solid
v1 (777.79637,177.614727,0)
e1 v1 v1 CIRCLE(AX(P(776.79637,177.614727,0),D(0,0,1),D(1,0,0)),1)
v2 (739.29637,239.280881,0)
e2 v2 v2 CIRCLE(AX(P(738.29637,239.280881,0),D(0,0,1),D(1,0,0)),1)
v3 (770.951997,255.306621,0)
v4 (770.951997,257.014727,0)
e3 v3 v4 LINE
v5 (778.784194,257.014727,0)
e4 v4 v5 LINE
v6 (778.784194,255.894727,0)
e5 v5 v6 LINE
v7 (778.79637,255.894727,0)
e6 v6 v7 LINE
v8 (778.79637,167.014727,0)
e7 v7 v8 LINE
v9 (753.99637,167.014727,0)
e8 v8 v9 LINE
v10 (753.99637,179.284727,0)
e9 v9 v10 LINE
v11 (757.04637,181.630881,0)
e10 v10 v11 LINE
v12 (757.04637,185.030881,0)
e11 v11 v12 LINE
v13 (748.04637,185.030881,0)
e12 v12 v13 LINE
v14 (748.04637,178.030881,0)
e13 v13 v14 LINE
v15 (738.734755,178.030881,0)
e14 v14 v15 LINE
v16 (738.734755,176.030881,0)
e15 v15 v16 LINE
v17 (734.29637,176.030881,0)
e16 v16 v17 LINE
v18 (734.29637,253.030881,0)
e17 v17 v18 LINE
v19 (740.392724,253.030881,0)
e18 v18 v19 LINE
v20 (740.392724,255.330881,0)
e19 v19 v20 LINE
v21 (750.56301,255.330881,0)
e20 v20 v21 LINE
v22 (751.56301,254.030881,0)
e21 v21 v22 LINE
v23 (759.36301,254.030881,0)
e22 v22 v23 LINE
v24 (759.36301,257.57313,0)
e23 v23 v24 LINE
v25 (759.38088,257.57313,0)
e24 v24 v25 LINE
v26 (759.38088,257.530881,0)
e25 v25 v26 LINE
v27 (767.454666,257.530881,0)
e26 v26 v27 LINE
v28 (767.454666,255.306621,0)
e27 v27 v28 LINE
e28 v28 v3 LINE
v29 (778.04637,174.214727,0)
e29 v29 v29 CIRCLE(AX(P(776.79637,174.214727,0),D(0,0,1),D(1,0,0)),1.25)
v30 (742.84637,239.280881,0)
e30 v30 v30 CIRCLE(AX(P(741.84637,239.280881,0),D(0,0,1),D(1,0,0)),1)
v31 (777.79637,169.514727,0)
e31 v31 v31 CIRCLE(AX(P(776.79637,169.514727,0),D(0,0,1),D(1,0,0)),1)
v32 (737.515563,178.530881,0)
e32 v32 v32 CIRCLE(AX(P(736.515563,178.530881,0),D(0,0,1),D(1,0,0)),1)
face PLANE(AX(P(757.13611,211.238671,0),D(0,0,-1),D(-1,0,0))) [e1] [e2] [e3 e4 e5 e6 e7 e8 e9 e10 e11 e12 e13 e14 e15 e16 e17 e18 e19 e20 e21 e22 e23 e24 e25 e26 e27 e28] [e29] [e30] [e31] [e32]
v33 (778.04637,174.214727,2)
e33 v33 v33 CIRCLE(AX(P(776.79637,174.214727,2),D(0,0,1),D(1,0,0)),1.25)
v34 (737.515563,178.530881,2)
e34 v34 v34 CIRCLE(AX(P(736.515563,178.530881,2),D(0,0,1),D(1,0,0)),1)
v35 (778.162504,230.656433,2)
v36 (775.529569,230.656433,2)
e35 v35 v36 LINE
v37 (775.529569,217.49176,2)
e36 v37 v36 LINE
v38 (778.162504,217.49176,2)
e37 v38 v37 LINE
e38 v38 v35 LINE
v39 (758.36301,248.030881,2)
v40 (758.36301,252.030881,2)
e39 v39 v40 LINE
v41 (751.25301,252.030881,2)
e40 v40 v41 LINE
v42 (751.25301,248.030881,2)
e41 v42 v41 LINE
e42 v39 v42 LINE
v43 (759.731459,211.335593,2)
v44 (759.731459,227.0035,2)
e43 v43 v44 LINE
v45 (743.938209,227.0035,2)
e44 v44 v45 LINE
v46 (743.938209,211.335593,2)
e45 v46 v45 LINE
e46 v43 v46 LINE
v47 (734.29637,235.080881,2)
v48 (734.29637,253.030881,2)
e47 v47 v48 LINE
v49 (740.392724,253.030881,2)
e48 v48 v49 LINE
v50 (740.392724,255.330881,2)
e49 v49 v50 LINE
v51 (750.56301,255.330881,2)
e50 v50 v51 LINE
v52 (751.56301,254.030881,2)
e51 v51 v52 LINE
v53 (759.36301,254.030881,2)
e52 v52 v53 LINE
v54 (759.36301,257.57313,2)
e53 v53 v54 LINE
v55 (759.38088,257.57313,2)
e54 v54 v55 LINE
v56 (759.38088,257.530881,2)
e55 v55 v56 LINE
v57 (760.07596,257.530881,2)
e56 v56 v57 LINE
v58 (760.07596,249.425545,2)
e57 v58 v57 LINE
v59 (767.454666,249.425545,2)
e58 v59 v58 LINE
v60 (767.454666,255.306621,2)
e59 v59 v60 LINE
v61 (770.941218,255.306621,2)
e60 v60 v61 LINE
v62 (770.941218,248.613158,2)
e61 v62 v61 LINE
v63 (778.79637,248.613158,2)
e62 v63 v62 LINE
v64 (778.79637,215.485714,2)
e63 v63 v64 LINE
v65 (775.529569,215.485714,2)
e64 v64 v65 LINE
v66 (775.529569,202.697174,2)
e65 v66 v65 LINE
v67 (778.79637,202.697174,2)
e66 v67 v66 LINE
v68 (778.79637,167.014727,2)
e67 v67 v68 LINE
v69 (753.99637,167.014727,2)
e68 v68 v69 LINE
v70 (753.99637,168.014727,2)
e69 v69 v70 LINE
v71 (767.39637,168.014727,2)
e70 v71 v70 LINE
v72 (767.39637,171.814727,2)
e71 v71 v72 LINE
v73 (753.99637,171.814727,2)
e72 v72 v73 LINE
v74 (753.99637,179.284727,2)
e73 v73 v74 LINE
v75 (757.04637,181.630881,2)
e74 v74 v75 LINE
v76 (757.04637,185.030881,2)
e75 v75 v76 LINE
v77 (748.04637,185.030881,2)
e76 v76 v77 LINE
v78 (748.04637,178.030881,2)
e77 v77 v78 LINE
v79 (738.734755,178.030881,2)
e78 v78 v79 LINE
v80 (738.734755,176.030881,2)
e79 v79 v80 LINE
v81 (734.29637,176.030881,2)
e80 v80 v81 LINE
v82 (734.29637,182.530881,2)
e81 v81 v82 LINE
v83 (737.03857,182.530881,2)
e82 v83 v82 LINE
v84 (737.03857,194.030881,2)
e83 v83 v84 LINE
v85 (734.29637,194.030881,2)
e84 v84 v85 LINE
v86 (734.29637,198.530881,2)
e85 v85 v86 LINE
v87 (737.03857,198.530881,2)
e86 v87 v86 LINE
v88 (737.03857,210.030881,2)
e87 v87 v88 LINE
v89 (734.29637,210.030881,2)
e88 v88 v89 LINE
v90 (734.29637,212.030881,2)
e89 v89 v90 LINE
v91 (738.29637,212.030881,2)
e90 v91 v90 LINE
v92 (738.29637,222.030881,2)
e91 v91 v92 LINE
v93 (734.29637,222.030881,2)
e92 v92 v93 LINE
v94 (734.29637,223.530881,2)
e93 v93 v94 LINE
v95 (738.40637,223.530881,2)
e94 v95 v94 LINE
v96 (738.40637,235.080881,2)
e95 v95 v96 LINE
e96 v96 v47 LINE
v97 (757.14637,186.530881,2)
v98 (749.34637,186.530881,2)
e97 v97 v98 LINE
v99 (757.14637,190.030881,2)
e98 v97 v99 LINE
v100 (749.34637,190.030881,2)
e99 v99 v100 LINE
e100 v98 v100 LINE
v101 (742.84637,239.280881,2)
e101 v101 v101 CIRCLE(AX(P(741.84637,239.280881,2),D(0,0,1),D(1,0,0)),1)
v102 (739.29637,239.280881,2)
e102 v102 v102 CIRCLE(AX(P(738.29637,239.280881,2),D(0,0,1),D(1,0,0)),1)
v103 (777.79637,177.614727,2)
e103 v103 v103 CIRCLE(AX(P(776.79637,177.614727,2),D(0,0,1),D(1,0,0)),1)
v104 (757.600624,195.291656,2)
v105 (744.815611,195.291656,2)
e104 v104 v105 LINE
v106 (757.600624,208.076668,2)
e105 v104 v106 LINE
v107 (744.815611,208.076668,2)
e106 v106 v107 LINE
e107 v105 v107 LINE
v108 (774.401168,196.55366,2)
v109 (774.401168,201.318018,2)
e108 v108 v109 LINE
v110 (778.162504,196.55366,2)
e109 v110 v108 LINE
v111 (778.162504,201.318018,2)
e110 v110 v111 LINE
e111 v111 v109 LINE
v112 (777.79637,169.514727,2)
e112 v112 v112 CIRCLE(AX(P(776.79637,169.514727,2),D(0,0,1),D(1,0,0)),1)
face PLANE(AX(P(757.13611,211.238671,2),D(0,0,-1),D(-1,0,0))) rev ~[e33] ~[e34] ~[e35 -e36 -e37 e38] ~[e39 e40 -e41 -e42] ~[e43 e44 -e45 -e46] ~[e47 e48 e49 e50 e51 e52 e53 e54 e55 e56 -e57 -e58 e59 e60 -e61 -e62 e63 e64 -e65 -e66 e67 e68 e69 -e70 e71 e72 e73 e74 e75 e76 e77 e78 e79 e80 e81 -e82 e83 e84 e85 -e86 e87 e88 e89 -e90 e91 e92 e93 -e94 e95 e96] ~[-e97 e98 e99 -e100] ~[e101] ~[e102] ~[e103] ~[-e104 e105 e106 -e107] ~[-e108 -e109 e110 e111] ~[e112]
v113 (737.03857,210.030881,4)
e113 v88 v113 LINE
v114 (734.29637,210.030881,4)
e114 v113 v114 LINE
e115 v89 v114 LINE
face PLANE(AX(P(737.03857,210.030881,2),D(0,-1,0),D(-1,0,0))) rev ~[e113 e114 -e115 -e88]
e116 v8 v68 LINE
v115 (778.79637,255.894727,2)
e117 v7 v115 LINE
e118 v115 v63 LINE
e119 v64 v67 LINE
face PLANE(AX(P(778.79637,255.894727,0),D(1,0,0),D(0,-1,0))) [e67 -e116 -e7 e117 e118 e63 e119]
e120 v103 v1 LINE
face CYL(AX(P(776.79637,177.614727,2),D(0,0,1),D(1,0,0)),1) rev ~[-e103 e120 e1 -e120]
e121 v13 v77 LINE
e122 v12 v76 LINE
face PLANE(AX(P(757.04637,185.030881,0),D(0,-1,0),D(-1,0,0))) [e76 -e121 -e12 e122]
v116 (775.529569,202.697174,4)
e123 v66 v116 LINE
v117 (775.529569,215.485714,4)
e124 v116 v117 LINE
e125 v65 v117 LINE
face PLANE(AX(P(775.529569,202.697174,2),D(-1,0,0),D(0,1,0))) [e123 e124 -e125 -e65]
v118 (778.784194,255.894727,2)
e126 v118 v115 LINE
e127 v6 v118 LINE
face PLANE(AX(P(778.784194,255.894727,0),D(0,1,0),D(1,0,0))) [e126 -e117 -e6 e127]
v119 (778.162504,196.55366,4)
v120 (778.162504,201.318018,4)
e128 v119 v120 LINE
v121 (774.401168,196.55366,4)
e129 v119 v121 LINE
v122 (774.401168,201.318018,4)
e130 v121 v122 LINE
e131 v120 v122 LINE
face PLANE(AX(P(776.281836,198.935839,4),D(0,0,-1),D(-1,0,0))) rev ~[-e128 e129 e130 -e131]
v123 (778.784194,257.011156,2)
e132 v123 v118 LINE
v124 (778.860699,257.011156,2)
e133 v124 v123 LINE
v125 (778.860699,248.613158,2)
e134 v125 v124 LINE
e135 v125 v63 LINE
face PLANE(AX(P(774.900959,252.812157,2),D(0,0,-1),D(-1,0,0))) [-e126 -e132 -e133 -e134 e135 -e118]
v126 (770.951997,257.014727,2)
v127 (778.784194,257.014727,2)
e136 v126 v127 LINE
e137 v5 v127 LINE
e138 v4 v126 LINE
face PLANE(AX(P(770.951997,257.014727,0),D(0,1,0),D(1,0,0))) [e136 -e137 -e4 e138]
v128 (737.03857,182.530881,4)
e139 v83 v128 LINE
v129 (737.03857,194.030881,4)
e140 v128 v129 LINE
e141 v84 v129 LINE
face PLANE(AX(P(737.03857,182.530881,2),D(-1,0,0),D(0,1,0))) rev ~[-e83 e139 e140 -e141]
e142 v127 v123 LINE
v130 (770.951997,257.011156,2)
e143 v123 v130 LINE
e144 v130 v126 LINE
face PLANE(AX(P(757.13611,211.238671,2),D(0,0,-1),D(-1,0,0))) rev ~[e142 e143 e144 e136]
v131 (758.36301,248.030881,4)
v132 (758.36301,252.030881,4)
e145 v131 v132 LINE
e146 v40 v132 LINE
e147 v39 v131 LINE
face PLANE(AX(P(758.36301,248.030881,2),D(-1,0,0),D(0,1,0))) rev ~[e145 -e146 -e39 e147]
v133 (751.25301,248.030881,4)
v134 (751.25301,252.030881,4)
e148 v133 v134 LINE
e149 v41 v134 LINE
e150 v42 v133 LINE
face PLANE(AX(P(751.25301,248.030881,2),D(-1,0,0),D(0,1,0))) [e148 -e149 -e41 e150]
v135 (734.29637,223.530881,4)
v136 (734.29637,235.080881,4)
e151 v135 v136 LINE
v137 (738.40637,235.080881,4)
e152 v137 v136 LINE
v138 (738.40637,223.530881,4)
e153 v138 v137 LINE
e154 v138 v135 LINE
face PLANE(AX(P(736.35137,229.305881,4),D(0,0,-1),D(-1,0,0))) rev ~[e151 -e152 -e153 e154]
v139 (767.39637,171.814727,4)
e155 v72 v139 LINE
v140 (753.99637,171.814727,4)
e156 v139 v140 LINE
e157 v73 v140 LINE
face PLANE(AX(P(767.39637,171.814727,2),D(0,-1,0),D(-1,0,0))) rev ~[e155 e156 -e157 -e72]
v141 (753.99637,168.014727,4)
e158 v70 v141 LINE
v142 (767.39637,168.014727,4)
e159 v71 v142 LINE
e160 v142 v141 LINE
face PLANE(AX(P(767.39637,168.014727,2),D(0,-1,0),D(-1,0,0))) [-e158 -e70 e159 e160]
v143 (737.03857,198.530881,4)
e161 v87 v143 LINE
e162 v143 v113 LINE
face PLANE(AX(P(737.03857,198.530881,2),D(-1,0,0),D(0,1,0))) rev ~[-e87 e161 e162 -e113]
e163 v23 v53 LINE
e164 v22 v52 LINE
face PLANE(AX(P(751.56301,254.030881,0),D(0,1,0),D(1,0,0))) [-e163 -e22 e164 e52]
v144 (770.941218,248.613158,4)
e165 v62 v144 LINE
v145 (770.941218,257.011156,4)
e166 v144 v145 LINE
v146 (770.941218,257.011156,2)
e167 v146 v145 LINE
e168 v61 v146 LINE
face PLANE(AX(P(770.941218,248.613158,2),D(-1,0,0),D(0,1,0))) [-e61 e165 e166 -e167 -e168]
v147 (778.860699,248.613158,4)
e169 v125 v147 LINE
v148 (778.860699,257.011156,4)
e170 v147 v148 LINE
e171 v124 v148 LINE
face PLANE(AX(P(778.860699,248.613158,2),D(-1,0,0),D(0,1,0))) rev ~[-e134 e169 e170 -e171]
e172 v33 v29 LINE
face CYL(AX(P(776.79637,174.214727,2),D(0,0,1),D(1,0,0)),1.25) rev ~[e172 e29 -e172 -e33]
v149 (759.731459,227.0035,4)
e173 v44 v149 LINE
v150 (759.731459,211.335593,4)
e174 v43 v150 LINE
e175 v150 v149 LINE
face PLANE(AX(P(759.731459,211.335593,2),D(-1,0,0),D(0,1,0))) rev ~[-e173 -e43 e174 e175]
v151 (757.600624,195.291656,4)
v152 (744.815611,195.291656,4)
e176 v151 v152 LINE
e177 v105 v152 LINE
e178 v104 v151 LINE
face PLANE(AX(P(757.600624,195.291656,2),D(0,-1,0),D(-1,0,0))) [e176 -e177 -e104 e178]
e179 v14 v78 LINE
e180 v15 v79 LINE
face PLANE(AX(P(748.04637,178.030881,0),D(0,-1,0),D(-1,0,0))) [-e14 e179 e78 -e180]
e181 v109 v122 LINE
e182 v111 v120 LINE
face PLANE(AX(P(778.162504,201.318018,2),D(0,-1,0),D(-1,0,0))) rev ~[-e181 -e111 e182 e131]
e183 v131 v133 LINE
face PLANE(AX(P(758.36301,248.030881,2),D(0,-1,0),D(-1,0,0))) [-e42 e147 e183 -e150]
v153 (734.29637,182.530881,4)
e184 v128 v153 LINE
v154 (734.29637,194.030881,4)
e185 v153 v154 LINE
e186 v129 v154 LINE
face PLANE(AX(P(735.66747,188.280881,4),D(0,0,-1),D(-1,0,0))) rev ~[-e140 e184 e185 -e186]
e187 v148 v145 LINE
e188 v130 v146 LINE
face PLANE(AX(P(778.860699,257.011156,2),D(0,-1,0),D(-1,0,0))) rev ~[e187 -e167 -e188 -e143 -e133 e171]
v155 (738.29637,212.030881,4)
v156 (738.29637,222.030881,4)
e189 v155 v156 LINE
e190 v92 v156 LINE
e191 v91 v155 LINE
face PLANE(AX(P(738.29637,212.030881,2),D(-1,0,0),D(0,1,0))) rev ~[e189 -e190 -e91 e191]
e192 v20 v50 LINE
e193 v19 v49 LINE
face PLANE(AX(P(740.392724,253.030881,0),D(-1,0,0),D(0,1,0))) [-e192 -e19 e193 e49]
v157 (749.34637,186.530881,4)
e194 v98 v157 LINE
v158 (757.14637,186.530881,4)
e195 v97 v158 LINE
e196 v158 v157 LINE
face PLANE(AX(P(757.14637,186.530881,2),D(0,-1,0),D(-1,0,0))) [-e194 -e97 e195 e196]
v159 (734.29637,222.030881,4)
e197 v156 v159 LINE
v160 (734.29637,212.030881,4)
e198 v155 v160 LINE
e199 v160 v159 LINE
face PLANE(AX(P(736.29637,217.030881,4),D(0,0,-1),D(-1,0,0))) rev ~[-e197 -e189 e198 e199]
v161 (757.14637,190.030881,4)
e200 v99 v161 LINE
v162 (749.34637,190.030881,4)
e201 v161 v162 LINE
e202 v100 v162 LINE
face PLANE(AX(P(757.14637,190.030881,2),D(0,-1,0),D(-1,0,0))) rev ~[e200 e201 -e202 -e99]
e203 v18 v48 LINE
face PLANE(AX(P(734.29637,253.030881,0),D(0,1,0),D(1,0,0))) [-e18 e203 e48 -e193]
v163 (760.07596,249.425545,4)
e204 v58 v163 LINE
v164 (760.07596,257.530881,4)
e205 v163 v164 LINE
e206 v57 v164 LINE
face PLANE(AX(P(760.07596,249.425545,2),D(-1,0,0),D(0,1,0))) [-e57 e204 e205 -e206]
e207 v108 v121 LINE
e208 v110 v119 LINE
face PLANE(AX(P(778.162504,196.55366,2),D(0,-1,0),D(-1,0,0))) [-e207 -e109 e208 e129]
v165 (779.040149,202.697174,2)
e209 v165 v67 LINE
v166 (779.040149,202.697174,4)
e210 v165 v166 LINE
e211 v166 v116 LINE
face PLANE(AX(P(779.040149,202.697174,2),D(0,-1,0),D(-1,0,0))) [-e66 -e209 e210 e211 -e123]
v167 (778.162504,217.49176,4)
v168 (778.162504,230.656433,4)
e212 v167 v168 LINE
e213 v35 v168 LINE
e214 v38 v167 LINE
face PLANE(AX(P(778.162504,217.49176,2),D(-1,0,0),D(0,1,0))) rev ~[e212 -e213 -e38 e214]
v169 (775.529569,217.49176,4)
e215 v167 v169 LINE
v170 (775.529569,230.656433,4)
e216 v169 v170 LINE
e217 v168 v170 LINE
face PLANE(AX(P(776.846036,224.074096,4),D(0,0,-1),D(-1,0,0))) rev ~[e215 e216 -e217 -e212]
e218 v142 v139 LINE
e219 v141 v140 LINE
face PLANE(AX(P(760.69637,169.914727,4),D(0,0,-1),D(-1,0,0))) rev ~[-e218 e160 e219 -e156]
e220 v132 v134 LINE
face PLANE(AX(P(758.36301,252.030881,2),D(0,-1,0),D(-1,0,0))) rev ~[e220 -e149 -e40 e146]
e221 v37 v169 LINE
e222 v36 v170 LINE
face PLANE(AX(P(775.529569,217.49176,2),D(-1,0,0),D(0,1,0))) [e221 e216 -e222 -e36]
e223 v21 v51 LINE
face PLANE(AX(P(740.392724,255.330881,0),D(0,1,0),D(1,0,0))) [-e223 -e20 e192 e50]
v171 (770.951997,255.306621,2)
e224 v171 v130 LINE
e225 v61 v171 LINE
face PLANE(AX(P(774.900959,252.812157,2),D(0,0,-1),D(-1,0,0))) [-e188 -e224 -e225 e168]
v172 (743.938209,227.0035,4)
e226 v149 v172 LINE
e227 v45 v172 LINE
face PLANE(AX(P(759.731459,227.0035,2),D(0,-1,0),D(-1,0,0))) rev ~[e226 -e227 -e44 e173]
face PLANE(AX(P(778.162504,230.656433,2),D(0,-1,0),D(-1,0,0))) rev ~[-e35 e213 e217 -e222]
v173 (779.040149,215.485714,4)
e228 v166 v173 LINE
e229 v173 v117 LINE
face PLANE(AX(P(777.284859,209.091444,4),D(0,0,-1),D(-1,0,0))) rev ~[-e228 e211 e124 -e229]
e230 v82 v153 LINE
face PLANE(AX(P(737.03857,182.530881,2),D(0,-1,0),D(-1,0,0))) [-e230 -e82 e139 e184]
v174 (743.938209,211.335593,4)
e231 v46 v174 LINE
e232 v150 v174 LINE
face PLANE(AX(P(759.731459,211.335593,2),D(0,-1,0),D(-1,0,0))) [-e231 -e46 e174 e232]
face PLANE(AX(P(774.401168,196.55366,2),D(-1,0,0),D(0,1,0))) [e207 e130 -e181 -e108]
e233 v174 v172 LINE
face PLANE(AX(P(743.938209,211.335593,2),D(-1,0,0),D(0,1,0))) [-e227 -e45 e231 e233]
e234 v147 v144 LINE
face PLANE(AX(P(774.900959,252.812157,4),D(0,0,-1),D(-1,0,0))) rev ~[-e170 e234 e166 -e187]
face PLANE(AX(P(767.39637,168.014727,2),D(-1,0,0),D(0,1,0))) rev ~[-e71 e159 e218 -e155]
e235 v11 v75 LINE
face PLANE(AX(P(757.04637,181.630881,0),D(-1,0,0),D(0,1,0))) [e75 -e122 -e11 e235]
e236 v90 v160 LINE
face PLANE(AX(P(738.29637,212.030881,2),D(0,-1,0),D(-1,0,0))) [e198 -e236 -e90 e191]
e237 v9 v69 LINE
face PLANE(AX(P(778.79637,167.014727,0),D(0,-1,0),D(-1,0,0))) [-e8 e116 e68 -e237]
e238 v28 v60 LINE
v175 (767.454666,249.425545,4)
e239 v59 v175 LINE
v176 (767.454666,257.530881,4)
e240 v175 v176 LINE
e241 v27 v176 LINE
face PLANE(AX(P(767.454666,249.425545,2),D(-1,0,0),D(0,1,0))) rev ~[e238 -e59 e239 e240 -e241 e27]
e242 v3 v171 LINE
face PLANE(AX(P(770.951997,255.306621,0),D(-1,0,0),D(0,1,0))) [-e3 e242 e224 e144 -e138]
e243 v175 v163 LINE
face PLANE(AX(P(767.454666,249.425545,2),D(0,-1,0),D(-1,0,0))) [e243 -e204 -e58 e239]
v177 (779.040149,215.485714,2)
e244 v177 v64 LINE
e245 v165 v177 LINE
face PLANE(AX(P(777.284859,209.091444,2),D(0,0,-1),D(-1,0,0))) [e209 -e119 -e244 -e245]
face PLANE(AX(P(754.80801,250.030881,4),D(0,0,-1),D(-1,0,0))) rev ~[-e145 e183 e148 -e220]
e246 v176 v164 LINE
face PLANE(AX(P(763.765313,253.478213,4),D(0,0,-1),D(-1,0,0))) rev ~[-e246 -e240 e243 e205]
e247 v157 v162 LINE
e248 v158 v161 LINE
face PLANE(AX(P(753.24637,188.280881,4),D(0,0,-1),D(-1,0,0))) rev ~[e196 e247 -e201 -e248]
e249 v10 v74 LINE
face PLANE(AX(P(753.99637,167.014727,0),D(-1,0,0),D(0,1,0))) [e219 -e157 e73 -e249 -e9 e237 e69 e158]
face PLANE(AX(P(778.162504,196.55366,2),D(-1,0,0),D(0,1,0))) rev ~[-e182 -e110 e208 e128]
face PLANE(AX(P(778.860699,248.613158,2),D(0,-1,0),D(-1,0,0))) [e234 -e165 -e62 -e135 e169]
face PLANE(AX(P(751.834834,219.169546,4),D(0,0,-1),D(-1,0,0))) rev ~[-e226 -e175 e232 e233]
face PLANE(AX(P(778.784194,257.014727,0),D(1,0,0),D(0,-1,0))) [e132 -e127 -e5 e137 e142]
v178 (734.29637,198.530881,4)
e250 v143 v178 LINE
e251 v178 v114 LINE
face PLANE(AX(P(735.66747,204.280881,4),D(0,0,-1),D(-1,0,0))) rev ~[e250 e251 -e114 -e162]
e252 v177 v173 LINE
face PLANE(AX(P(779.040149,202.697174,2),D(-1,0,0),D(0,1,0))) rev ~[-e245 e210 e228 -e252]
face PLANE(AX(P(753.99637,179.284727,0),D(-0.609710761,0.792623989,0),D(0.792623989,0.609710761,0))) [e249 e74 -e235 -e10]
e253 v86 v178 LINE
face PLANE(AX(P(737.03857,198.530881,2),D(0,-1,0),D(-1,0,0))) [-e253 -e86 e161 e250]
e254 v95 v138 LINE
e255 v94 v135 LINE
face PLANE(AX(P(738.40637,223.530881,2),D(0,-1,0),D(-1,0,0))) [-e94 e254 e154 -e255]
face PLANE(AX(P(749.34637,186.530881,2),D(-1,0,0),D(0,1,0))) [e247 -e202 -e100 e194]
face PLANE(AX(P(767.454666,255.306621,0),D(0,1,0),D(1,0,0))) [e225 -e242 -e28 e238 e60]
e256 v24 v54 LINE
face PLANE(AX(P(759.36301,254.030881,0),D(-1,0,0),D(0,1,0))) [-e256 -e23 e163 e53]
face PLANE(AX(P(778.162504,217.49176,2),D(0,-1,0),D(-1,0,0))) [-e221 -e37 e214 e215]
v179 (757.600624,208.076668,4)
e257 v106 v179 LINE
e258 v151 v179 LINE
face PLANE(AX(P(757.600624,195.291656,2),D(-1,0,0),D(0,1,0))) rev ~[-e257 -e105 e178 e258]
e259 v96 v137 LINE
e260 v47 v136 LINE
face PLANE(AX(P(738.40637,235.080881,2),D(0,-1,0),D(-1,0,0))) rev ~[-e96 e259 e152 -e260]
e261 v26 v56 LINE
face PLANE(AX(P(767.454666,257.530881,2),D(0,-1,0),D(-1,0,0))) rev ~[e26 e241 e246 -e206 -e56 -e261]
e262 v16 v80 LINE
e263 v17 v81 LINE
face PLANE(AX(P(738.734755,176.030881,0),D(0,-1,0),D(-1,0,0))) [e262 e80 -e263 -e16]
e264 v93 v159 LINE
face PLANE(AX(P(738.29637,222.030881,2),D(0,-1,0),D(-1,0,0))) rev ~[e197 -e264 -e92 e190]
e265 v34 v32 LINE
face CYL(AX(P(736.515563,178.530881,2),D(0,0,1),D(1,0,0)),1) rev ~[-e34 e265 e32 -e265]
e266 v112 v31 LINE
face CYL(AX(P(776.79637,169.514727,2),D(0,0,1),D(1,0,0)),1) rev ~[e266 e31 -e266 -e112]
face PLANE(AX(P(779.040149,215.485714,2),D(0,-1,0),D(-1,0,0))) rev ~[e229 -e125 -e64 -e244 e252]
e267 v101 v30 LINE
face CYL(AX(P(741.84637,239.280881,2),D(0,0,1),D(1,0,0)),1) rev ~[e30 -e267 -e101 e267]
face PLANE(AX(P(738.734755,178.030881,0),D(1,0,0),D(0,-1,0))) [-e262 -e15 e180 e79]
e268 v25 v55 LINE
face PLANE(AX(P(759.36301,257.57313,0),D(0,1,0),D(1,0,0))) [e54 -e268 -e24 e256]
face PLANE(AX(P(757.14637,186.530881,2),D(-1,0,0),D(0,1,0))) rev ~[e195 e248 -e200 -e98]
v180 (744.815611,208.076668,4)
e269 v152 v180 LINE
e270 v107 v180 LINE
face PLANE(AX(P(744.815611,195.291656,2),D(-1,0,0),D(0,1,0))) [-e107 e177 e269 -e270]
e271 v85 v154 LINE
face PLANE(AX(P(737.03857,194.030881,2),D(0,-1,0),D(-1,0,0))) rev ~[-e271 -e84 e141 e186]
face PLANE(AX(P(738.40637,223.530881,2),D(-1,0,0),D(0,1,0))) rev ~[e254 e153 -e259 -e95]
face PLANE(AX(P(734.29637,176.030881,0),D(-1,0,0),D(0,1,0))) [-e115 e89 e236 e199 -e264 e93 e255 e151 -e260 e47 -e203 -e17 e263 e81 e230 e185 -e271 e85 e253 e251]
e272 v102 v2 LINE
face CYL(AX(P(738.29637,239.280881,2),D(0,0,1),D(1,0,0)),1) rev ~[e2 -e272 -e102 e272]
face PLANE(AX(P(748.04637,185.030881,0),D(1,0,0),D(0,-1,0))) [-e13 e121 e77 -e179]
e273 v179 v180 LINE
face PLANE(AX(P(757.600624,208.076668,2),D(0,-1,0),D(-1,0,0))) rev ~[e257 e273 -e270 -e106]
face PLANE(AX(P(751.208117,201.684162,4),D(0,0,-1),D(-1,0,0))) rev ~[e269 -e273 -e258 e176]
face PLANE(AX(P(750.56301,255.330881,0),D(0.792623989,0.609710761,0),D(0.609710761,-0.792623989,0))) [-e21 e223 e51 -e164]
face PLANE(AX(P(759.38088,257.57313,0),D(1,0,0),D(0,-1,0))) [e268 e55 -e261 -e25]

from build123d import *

# Parameters (mm, degrees)
BOSS_EXTRU_1_DEPTH  = 2
ESQUISSE3_W         = 15.79325035
ESQUISSE3_H         = 15.667907094
BOSS_EXTRU_3_DEPTH  = 2
ESQUISSE4_W         = 12.785012189
ESQUISSE4_H         = 12.785012188
BOSS_EXTRU_4_DEPTH  = 2
ESQUISSE5_W         = 7.91948101
ESQUISSE5_H         = 8.397998202
BOSS_EXTRU_5_DEPTH  = 2
ESQUISSE6_W         = 7.37870607
ESQUISSE6_H         = 8.10533589
BOSS_EXTRU_6_DEPTH  = 2
ESQUISSE7_W         = 2.632934746
ESQUISSE7_H         = 13.164673727
ESQUISSE7_W_2       = 3.510579661
ESQUISSE7_H_2       = 12.788540192
ESQUISSE7_W_3       = 3.761335351
ESQUISSE7_H_3       = 4.764358111
ESQUISSE7_W_4       = 7.8
ESQUISSE7_H_4       = 3.5
ESQUISSE7_W_5       = 13.4
ESQUISSE7_H_5       = 3.8
ESQUISSE7_W_6       = 2.742200186
ESQUISSE7_H_6       = 11.5
ESQUISSE7_W_7       = 4
ESQUISSE7_H_7       = 10
ESQUISSE7_W_8       = 7.11
ESQUISSE7_H_8       = 4
ESQUISSE7_W_9       = 4.11
ESQUISSE7_H_9       = 11.55
BOSS_EXTRU_7_DEPTH  = 2
SKETCH_3_R          = 1
SKETCH_3_R_2        = 1.25
CUT_EXTRUDE_4_DEPTH = 10
SKETCH_1_R          = 1
CUT_EXTRUDE_5_DEPTH = 10
SKETCH_2_R          = 1
CUT_EXTRUDE_6_DEPTH = 10


with BuildPart() as part:
    # Esquisse1 → Boss.-Extru.1 (new body)
    with BuildSketch(Plane.XY):
        Polygon((778.796370306, 167.014727296), (753.996370306, 167.014727296), (753.996370306, 179.284727296), (757.046370306, 181.630881142), (757.046370306, 185.030881142), (748.046370306, 185.030881142), (748.046370306, 178.030881142), (738.734755108, 178.030881142), (738.734755108, 176.030881142), (734.296370306, 176.030881142), (734.296370306, 253.030881142), (740.392724327, 253.030881142), (740.392724327, 255.330881142), (750.563009525, 255.330881142), (751.563009525, 254.030881142), (759.363009525, 254.030881142), (759.363009525, 257.573130323), (759.380880171, 257.573130323), (759.380880171, 257.530881142), (767.454666434, 257.530881142), (767.454666434, 255.306621268), (770.951996508, 255.306621268), (770.951996508, 257.014727296), (778.78419371, 257.014727296), (778.78419371, 255.894727296), (778.796370306, 255.894727296), align=None)
    extrude(amount=BOSS_EXTRU_1_DEPTH)

    # Esquisse3 → Boss.-Extru.3 (add)
    with BuildSketch(Plane(origin=(0, 0, 2), x_dir=(-1, 0, 0), z_dir=(0, 0, -1))):
        with Locations((-751.834833735, 219.169546492)):
            Rectangle(ESQUISSE3_W, ESQUISSE3_H)
    extrude(amount=-BOSS_EXTRU_3_DEPTH)

    # Esquisse4 → Boss.-Extru.4 (add)
    with BuildSketch(Plane(origin=(0, 0, 2), x_dir=(-1, 0, 0), z_dir=(0, 0, -1))):
        with Locations((-751.208117452, 201.684162176)):
            Rectangle(ESQUISSE4_W, ESQUISSE4_H)
    extrude(amount=-BOSS_EXTRU_4_DEPTH)

    # Esquisse5 → Boss.-Extru.5 (add)
    with BuildSketch(Plane(origin=(0, 0, 2), x_dir=(-1, 0, 0), z_dir=(0, 0, -1))):
        with Locations((-774.900958926, 252.812156779)):
            Rectangle(ESQUISSE5_W, ESQUISSE5_H)
    extrude(amount=-BOSS_EXTRU_5_DEPTH)

    # Esquisse6 → Boss.-Extru.6 (add)
    with BuildSketch(Plane(origin=(0, 0, 2), x_dir=(-1, 0, 0), z_dir=(0, 0, -1))):
        with Locations((-763.765313399, 253.478213197)):
            Rectangle(ESQUISSE6_W, ESQUISSE6_H)
    extrude(amount=-BOSS_EXTRU_6_DEPTH)

    # Esquisse7 → Boss.-Extru.7 (add)
    with BuildSketch(Plane(origin=(0, 0, 2), x_dir=(-1, 0, 0), z_dir=(0, 0, -1))):
        with Locations((-776.846036285, 224.074096482)):
            Rectangle(ESQUISSE7_W, ESQUISSE7_H)
        with Locations((-777.284858743, 209.091444002)):
            Rectangle(ESQUISSE7_W_2, ESQUISSE7_H_2)
        with Locations((-776.281835983, 198.935838556)):
            Rectangle(ESQUISSE7_W_3, ESQUISSE7_H_3)
        with Locations((-753.246370306, 188.280881142)):
            Rectangle(ESQUISSE7_W_4, ESQUISSE7_H_4)
        with Locations((-760.696370306, 169.914727296)):
            Rectangle(ESQUISSE7_W_5, ESQUISSE7_H_5)
        with Locations((-735.667470399, 188.280881142)):
            Rectangle(ESQUISSE7_W_6, ESQUISSE7_H_6)
        with Locations((-735.667470399, 204.280881142)):
            Rectangle(ESQUISSE7_W_6, ESQUISSE7_H_6)
        with Locations((-736.296370306, 217.030881142)):
            Rectangle(ESQUISSE7_W_7, ESQUISSE7_H_7)
        with Locations((-754.808009525, 250.030881142)):
            Rectangle(ESQUISSE7_W_8, ESQUISSE7_H_8)
        with Locations((-736.351370306, 229.305881142)):
            Rectangle(ESQUISSE7_W_9, ESQUISSE7_H_9)
    extrude(amount=-BOSS_EXTRU_7_DEPTH)

    # Эскиз3 → Вырез-Вытянуть4 (cut)
    with BuildSketch(Plane.XY.offset(2)):
        with Locations((738.296370306, 239.280881142)):
            Circle(SKETCH_3_R)
        with Locations((741.846370306, 239.280881142)):
            Circle(SKETCH_3_R)
        with Locations((776.796370306, 174.214727296)):
            Circle(SKETCH_3_R_2)
        with Locations((776.796370306, 177.614727296)):
            Circle(SKETCH_3_R)
    extrude(amount=-CUT_EXTRUDE_4_DEPTH, mode=Mode.SUBTRACT)

    # Эскиз1 → Вырез-Вытянуть5 (cut)
    with BuildSketch(Plane.XY.offset(2)):
        with Locations((736.515562707, 178.530881142)):
            Circle(SKETCH_1_R)
    extrude(amount=-CUT_EXTRUDE_5_DEPTH, mode=Mode.SUBTRACT)

    # Эскиз2 → Вырез-Вытянуть6 (cut)
    with BuildSketch(Plane.XY.offset(2)):
        with Locations((776.796370306, 169.514727296)):
            Circle(SKETCH_2_R)
    extrude(amount=-CUT_EXTRUDE_6_DEPTH, mode=Mode.SUBTRACT)


solid = part.part
